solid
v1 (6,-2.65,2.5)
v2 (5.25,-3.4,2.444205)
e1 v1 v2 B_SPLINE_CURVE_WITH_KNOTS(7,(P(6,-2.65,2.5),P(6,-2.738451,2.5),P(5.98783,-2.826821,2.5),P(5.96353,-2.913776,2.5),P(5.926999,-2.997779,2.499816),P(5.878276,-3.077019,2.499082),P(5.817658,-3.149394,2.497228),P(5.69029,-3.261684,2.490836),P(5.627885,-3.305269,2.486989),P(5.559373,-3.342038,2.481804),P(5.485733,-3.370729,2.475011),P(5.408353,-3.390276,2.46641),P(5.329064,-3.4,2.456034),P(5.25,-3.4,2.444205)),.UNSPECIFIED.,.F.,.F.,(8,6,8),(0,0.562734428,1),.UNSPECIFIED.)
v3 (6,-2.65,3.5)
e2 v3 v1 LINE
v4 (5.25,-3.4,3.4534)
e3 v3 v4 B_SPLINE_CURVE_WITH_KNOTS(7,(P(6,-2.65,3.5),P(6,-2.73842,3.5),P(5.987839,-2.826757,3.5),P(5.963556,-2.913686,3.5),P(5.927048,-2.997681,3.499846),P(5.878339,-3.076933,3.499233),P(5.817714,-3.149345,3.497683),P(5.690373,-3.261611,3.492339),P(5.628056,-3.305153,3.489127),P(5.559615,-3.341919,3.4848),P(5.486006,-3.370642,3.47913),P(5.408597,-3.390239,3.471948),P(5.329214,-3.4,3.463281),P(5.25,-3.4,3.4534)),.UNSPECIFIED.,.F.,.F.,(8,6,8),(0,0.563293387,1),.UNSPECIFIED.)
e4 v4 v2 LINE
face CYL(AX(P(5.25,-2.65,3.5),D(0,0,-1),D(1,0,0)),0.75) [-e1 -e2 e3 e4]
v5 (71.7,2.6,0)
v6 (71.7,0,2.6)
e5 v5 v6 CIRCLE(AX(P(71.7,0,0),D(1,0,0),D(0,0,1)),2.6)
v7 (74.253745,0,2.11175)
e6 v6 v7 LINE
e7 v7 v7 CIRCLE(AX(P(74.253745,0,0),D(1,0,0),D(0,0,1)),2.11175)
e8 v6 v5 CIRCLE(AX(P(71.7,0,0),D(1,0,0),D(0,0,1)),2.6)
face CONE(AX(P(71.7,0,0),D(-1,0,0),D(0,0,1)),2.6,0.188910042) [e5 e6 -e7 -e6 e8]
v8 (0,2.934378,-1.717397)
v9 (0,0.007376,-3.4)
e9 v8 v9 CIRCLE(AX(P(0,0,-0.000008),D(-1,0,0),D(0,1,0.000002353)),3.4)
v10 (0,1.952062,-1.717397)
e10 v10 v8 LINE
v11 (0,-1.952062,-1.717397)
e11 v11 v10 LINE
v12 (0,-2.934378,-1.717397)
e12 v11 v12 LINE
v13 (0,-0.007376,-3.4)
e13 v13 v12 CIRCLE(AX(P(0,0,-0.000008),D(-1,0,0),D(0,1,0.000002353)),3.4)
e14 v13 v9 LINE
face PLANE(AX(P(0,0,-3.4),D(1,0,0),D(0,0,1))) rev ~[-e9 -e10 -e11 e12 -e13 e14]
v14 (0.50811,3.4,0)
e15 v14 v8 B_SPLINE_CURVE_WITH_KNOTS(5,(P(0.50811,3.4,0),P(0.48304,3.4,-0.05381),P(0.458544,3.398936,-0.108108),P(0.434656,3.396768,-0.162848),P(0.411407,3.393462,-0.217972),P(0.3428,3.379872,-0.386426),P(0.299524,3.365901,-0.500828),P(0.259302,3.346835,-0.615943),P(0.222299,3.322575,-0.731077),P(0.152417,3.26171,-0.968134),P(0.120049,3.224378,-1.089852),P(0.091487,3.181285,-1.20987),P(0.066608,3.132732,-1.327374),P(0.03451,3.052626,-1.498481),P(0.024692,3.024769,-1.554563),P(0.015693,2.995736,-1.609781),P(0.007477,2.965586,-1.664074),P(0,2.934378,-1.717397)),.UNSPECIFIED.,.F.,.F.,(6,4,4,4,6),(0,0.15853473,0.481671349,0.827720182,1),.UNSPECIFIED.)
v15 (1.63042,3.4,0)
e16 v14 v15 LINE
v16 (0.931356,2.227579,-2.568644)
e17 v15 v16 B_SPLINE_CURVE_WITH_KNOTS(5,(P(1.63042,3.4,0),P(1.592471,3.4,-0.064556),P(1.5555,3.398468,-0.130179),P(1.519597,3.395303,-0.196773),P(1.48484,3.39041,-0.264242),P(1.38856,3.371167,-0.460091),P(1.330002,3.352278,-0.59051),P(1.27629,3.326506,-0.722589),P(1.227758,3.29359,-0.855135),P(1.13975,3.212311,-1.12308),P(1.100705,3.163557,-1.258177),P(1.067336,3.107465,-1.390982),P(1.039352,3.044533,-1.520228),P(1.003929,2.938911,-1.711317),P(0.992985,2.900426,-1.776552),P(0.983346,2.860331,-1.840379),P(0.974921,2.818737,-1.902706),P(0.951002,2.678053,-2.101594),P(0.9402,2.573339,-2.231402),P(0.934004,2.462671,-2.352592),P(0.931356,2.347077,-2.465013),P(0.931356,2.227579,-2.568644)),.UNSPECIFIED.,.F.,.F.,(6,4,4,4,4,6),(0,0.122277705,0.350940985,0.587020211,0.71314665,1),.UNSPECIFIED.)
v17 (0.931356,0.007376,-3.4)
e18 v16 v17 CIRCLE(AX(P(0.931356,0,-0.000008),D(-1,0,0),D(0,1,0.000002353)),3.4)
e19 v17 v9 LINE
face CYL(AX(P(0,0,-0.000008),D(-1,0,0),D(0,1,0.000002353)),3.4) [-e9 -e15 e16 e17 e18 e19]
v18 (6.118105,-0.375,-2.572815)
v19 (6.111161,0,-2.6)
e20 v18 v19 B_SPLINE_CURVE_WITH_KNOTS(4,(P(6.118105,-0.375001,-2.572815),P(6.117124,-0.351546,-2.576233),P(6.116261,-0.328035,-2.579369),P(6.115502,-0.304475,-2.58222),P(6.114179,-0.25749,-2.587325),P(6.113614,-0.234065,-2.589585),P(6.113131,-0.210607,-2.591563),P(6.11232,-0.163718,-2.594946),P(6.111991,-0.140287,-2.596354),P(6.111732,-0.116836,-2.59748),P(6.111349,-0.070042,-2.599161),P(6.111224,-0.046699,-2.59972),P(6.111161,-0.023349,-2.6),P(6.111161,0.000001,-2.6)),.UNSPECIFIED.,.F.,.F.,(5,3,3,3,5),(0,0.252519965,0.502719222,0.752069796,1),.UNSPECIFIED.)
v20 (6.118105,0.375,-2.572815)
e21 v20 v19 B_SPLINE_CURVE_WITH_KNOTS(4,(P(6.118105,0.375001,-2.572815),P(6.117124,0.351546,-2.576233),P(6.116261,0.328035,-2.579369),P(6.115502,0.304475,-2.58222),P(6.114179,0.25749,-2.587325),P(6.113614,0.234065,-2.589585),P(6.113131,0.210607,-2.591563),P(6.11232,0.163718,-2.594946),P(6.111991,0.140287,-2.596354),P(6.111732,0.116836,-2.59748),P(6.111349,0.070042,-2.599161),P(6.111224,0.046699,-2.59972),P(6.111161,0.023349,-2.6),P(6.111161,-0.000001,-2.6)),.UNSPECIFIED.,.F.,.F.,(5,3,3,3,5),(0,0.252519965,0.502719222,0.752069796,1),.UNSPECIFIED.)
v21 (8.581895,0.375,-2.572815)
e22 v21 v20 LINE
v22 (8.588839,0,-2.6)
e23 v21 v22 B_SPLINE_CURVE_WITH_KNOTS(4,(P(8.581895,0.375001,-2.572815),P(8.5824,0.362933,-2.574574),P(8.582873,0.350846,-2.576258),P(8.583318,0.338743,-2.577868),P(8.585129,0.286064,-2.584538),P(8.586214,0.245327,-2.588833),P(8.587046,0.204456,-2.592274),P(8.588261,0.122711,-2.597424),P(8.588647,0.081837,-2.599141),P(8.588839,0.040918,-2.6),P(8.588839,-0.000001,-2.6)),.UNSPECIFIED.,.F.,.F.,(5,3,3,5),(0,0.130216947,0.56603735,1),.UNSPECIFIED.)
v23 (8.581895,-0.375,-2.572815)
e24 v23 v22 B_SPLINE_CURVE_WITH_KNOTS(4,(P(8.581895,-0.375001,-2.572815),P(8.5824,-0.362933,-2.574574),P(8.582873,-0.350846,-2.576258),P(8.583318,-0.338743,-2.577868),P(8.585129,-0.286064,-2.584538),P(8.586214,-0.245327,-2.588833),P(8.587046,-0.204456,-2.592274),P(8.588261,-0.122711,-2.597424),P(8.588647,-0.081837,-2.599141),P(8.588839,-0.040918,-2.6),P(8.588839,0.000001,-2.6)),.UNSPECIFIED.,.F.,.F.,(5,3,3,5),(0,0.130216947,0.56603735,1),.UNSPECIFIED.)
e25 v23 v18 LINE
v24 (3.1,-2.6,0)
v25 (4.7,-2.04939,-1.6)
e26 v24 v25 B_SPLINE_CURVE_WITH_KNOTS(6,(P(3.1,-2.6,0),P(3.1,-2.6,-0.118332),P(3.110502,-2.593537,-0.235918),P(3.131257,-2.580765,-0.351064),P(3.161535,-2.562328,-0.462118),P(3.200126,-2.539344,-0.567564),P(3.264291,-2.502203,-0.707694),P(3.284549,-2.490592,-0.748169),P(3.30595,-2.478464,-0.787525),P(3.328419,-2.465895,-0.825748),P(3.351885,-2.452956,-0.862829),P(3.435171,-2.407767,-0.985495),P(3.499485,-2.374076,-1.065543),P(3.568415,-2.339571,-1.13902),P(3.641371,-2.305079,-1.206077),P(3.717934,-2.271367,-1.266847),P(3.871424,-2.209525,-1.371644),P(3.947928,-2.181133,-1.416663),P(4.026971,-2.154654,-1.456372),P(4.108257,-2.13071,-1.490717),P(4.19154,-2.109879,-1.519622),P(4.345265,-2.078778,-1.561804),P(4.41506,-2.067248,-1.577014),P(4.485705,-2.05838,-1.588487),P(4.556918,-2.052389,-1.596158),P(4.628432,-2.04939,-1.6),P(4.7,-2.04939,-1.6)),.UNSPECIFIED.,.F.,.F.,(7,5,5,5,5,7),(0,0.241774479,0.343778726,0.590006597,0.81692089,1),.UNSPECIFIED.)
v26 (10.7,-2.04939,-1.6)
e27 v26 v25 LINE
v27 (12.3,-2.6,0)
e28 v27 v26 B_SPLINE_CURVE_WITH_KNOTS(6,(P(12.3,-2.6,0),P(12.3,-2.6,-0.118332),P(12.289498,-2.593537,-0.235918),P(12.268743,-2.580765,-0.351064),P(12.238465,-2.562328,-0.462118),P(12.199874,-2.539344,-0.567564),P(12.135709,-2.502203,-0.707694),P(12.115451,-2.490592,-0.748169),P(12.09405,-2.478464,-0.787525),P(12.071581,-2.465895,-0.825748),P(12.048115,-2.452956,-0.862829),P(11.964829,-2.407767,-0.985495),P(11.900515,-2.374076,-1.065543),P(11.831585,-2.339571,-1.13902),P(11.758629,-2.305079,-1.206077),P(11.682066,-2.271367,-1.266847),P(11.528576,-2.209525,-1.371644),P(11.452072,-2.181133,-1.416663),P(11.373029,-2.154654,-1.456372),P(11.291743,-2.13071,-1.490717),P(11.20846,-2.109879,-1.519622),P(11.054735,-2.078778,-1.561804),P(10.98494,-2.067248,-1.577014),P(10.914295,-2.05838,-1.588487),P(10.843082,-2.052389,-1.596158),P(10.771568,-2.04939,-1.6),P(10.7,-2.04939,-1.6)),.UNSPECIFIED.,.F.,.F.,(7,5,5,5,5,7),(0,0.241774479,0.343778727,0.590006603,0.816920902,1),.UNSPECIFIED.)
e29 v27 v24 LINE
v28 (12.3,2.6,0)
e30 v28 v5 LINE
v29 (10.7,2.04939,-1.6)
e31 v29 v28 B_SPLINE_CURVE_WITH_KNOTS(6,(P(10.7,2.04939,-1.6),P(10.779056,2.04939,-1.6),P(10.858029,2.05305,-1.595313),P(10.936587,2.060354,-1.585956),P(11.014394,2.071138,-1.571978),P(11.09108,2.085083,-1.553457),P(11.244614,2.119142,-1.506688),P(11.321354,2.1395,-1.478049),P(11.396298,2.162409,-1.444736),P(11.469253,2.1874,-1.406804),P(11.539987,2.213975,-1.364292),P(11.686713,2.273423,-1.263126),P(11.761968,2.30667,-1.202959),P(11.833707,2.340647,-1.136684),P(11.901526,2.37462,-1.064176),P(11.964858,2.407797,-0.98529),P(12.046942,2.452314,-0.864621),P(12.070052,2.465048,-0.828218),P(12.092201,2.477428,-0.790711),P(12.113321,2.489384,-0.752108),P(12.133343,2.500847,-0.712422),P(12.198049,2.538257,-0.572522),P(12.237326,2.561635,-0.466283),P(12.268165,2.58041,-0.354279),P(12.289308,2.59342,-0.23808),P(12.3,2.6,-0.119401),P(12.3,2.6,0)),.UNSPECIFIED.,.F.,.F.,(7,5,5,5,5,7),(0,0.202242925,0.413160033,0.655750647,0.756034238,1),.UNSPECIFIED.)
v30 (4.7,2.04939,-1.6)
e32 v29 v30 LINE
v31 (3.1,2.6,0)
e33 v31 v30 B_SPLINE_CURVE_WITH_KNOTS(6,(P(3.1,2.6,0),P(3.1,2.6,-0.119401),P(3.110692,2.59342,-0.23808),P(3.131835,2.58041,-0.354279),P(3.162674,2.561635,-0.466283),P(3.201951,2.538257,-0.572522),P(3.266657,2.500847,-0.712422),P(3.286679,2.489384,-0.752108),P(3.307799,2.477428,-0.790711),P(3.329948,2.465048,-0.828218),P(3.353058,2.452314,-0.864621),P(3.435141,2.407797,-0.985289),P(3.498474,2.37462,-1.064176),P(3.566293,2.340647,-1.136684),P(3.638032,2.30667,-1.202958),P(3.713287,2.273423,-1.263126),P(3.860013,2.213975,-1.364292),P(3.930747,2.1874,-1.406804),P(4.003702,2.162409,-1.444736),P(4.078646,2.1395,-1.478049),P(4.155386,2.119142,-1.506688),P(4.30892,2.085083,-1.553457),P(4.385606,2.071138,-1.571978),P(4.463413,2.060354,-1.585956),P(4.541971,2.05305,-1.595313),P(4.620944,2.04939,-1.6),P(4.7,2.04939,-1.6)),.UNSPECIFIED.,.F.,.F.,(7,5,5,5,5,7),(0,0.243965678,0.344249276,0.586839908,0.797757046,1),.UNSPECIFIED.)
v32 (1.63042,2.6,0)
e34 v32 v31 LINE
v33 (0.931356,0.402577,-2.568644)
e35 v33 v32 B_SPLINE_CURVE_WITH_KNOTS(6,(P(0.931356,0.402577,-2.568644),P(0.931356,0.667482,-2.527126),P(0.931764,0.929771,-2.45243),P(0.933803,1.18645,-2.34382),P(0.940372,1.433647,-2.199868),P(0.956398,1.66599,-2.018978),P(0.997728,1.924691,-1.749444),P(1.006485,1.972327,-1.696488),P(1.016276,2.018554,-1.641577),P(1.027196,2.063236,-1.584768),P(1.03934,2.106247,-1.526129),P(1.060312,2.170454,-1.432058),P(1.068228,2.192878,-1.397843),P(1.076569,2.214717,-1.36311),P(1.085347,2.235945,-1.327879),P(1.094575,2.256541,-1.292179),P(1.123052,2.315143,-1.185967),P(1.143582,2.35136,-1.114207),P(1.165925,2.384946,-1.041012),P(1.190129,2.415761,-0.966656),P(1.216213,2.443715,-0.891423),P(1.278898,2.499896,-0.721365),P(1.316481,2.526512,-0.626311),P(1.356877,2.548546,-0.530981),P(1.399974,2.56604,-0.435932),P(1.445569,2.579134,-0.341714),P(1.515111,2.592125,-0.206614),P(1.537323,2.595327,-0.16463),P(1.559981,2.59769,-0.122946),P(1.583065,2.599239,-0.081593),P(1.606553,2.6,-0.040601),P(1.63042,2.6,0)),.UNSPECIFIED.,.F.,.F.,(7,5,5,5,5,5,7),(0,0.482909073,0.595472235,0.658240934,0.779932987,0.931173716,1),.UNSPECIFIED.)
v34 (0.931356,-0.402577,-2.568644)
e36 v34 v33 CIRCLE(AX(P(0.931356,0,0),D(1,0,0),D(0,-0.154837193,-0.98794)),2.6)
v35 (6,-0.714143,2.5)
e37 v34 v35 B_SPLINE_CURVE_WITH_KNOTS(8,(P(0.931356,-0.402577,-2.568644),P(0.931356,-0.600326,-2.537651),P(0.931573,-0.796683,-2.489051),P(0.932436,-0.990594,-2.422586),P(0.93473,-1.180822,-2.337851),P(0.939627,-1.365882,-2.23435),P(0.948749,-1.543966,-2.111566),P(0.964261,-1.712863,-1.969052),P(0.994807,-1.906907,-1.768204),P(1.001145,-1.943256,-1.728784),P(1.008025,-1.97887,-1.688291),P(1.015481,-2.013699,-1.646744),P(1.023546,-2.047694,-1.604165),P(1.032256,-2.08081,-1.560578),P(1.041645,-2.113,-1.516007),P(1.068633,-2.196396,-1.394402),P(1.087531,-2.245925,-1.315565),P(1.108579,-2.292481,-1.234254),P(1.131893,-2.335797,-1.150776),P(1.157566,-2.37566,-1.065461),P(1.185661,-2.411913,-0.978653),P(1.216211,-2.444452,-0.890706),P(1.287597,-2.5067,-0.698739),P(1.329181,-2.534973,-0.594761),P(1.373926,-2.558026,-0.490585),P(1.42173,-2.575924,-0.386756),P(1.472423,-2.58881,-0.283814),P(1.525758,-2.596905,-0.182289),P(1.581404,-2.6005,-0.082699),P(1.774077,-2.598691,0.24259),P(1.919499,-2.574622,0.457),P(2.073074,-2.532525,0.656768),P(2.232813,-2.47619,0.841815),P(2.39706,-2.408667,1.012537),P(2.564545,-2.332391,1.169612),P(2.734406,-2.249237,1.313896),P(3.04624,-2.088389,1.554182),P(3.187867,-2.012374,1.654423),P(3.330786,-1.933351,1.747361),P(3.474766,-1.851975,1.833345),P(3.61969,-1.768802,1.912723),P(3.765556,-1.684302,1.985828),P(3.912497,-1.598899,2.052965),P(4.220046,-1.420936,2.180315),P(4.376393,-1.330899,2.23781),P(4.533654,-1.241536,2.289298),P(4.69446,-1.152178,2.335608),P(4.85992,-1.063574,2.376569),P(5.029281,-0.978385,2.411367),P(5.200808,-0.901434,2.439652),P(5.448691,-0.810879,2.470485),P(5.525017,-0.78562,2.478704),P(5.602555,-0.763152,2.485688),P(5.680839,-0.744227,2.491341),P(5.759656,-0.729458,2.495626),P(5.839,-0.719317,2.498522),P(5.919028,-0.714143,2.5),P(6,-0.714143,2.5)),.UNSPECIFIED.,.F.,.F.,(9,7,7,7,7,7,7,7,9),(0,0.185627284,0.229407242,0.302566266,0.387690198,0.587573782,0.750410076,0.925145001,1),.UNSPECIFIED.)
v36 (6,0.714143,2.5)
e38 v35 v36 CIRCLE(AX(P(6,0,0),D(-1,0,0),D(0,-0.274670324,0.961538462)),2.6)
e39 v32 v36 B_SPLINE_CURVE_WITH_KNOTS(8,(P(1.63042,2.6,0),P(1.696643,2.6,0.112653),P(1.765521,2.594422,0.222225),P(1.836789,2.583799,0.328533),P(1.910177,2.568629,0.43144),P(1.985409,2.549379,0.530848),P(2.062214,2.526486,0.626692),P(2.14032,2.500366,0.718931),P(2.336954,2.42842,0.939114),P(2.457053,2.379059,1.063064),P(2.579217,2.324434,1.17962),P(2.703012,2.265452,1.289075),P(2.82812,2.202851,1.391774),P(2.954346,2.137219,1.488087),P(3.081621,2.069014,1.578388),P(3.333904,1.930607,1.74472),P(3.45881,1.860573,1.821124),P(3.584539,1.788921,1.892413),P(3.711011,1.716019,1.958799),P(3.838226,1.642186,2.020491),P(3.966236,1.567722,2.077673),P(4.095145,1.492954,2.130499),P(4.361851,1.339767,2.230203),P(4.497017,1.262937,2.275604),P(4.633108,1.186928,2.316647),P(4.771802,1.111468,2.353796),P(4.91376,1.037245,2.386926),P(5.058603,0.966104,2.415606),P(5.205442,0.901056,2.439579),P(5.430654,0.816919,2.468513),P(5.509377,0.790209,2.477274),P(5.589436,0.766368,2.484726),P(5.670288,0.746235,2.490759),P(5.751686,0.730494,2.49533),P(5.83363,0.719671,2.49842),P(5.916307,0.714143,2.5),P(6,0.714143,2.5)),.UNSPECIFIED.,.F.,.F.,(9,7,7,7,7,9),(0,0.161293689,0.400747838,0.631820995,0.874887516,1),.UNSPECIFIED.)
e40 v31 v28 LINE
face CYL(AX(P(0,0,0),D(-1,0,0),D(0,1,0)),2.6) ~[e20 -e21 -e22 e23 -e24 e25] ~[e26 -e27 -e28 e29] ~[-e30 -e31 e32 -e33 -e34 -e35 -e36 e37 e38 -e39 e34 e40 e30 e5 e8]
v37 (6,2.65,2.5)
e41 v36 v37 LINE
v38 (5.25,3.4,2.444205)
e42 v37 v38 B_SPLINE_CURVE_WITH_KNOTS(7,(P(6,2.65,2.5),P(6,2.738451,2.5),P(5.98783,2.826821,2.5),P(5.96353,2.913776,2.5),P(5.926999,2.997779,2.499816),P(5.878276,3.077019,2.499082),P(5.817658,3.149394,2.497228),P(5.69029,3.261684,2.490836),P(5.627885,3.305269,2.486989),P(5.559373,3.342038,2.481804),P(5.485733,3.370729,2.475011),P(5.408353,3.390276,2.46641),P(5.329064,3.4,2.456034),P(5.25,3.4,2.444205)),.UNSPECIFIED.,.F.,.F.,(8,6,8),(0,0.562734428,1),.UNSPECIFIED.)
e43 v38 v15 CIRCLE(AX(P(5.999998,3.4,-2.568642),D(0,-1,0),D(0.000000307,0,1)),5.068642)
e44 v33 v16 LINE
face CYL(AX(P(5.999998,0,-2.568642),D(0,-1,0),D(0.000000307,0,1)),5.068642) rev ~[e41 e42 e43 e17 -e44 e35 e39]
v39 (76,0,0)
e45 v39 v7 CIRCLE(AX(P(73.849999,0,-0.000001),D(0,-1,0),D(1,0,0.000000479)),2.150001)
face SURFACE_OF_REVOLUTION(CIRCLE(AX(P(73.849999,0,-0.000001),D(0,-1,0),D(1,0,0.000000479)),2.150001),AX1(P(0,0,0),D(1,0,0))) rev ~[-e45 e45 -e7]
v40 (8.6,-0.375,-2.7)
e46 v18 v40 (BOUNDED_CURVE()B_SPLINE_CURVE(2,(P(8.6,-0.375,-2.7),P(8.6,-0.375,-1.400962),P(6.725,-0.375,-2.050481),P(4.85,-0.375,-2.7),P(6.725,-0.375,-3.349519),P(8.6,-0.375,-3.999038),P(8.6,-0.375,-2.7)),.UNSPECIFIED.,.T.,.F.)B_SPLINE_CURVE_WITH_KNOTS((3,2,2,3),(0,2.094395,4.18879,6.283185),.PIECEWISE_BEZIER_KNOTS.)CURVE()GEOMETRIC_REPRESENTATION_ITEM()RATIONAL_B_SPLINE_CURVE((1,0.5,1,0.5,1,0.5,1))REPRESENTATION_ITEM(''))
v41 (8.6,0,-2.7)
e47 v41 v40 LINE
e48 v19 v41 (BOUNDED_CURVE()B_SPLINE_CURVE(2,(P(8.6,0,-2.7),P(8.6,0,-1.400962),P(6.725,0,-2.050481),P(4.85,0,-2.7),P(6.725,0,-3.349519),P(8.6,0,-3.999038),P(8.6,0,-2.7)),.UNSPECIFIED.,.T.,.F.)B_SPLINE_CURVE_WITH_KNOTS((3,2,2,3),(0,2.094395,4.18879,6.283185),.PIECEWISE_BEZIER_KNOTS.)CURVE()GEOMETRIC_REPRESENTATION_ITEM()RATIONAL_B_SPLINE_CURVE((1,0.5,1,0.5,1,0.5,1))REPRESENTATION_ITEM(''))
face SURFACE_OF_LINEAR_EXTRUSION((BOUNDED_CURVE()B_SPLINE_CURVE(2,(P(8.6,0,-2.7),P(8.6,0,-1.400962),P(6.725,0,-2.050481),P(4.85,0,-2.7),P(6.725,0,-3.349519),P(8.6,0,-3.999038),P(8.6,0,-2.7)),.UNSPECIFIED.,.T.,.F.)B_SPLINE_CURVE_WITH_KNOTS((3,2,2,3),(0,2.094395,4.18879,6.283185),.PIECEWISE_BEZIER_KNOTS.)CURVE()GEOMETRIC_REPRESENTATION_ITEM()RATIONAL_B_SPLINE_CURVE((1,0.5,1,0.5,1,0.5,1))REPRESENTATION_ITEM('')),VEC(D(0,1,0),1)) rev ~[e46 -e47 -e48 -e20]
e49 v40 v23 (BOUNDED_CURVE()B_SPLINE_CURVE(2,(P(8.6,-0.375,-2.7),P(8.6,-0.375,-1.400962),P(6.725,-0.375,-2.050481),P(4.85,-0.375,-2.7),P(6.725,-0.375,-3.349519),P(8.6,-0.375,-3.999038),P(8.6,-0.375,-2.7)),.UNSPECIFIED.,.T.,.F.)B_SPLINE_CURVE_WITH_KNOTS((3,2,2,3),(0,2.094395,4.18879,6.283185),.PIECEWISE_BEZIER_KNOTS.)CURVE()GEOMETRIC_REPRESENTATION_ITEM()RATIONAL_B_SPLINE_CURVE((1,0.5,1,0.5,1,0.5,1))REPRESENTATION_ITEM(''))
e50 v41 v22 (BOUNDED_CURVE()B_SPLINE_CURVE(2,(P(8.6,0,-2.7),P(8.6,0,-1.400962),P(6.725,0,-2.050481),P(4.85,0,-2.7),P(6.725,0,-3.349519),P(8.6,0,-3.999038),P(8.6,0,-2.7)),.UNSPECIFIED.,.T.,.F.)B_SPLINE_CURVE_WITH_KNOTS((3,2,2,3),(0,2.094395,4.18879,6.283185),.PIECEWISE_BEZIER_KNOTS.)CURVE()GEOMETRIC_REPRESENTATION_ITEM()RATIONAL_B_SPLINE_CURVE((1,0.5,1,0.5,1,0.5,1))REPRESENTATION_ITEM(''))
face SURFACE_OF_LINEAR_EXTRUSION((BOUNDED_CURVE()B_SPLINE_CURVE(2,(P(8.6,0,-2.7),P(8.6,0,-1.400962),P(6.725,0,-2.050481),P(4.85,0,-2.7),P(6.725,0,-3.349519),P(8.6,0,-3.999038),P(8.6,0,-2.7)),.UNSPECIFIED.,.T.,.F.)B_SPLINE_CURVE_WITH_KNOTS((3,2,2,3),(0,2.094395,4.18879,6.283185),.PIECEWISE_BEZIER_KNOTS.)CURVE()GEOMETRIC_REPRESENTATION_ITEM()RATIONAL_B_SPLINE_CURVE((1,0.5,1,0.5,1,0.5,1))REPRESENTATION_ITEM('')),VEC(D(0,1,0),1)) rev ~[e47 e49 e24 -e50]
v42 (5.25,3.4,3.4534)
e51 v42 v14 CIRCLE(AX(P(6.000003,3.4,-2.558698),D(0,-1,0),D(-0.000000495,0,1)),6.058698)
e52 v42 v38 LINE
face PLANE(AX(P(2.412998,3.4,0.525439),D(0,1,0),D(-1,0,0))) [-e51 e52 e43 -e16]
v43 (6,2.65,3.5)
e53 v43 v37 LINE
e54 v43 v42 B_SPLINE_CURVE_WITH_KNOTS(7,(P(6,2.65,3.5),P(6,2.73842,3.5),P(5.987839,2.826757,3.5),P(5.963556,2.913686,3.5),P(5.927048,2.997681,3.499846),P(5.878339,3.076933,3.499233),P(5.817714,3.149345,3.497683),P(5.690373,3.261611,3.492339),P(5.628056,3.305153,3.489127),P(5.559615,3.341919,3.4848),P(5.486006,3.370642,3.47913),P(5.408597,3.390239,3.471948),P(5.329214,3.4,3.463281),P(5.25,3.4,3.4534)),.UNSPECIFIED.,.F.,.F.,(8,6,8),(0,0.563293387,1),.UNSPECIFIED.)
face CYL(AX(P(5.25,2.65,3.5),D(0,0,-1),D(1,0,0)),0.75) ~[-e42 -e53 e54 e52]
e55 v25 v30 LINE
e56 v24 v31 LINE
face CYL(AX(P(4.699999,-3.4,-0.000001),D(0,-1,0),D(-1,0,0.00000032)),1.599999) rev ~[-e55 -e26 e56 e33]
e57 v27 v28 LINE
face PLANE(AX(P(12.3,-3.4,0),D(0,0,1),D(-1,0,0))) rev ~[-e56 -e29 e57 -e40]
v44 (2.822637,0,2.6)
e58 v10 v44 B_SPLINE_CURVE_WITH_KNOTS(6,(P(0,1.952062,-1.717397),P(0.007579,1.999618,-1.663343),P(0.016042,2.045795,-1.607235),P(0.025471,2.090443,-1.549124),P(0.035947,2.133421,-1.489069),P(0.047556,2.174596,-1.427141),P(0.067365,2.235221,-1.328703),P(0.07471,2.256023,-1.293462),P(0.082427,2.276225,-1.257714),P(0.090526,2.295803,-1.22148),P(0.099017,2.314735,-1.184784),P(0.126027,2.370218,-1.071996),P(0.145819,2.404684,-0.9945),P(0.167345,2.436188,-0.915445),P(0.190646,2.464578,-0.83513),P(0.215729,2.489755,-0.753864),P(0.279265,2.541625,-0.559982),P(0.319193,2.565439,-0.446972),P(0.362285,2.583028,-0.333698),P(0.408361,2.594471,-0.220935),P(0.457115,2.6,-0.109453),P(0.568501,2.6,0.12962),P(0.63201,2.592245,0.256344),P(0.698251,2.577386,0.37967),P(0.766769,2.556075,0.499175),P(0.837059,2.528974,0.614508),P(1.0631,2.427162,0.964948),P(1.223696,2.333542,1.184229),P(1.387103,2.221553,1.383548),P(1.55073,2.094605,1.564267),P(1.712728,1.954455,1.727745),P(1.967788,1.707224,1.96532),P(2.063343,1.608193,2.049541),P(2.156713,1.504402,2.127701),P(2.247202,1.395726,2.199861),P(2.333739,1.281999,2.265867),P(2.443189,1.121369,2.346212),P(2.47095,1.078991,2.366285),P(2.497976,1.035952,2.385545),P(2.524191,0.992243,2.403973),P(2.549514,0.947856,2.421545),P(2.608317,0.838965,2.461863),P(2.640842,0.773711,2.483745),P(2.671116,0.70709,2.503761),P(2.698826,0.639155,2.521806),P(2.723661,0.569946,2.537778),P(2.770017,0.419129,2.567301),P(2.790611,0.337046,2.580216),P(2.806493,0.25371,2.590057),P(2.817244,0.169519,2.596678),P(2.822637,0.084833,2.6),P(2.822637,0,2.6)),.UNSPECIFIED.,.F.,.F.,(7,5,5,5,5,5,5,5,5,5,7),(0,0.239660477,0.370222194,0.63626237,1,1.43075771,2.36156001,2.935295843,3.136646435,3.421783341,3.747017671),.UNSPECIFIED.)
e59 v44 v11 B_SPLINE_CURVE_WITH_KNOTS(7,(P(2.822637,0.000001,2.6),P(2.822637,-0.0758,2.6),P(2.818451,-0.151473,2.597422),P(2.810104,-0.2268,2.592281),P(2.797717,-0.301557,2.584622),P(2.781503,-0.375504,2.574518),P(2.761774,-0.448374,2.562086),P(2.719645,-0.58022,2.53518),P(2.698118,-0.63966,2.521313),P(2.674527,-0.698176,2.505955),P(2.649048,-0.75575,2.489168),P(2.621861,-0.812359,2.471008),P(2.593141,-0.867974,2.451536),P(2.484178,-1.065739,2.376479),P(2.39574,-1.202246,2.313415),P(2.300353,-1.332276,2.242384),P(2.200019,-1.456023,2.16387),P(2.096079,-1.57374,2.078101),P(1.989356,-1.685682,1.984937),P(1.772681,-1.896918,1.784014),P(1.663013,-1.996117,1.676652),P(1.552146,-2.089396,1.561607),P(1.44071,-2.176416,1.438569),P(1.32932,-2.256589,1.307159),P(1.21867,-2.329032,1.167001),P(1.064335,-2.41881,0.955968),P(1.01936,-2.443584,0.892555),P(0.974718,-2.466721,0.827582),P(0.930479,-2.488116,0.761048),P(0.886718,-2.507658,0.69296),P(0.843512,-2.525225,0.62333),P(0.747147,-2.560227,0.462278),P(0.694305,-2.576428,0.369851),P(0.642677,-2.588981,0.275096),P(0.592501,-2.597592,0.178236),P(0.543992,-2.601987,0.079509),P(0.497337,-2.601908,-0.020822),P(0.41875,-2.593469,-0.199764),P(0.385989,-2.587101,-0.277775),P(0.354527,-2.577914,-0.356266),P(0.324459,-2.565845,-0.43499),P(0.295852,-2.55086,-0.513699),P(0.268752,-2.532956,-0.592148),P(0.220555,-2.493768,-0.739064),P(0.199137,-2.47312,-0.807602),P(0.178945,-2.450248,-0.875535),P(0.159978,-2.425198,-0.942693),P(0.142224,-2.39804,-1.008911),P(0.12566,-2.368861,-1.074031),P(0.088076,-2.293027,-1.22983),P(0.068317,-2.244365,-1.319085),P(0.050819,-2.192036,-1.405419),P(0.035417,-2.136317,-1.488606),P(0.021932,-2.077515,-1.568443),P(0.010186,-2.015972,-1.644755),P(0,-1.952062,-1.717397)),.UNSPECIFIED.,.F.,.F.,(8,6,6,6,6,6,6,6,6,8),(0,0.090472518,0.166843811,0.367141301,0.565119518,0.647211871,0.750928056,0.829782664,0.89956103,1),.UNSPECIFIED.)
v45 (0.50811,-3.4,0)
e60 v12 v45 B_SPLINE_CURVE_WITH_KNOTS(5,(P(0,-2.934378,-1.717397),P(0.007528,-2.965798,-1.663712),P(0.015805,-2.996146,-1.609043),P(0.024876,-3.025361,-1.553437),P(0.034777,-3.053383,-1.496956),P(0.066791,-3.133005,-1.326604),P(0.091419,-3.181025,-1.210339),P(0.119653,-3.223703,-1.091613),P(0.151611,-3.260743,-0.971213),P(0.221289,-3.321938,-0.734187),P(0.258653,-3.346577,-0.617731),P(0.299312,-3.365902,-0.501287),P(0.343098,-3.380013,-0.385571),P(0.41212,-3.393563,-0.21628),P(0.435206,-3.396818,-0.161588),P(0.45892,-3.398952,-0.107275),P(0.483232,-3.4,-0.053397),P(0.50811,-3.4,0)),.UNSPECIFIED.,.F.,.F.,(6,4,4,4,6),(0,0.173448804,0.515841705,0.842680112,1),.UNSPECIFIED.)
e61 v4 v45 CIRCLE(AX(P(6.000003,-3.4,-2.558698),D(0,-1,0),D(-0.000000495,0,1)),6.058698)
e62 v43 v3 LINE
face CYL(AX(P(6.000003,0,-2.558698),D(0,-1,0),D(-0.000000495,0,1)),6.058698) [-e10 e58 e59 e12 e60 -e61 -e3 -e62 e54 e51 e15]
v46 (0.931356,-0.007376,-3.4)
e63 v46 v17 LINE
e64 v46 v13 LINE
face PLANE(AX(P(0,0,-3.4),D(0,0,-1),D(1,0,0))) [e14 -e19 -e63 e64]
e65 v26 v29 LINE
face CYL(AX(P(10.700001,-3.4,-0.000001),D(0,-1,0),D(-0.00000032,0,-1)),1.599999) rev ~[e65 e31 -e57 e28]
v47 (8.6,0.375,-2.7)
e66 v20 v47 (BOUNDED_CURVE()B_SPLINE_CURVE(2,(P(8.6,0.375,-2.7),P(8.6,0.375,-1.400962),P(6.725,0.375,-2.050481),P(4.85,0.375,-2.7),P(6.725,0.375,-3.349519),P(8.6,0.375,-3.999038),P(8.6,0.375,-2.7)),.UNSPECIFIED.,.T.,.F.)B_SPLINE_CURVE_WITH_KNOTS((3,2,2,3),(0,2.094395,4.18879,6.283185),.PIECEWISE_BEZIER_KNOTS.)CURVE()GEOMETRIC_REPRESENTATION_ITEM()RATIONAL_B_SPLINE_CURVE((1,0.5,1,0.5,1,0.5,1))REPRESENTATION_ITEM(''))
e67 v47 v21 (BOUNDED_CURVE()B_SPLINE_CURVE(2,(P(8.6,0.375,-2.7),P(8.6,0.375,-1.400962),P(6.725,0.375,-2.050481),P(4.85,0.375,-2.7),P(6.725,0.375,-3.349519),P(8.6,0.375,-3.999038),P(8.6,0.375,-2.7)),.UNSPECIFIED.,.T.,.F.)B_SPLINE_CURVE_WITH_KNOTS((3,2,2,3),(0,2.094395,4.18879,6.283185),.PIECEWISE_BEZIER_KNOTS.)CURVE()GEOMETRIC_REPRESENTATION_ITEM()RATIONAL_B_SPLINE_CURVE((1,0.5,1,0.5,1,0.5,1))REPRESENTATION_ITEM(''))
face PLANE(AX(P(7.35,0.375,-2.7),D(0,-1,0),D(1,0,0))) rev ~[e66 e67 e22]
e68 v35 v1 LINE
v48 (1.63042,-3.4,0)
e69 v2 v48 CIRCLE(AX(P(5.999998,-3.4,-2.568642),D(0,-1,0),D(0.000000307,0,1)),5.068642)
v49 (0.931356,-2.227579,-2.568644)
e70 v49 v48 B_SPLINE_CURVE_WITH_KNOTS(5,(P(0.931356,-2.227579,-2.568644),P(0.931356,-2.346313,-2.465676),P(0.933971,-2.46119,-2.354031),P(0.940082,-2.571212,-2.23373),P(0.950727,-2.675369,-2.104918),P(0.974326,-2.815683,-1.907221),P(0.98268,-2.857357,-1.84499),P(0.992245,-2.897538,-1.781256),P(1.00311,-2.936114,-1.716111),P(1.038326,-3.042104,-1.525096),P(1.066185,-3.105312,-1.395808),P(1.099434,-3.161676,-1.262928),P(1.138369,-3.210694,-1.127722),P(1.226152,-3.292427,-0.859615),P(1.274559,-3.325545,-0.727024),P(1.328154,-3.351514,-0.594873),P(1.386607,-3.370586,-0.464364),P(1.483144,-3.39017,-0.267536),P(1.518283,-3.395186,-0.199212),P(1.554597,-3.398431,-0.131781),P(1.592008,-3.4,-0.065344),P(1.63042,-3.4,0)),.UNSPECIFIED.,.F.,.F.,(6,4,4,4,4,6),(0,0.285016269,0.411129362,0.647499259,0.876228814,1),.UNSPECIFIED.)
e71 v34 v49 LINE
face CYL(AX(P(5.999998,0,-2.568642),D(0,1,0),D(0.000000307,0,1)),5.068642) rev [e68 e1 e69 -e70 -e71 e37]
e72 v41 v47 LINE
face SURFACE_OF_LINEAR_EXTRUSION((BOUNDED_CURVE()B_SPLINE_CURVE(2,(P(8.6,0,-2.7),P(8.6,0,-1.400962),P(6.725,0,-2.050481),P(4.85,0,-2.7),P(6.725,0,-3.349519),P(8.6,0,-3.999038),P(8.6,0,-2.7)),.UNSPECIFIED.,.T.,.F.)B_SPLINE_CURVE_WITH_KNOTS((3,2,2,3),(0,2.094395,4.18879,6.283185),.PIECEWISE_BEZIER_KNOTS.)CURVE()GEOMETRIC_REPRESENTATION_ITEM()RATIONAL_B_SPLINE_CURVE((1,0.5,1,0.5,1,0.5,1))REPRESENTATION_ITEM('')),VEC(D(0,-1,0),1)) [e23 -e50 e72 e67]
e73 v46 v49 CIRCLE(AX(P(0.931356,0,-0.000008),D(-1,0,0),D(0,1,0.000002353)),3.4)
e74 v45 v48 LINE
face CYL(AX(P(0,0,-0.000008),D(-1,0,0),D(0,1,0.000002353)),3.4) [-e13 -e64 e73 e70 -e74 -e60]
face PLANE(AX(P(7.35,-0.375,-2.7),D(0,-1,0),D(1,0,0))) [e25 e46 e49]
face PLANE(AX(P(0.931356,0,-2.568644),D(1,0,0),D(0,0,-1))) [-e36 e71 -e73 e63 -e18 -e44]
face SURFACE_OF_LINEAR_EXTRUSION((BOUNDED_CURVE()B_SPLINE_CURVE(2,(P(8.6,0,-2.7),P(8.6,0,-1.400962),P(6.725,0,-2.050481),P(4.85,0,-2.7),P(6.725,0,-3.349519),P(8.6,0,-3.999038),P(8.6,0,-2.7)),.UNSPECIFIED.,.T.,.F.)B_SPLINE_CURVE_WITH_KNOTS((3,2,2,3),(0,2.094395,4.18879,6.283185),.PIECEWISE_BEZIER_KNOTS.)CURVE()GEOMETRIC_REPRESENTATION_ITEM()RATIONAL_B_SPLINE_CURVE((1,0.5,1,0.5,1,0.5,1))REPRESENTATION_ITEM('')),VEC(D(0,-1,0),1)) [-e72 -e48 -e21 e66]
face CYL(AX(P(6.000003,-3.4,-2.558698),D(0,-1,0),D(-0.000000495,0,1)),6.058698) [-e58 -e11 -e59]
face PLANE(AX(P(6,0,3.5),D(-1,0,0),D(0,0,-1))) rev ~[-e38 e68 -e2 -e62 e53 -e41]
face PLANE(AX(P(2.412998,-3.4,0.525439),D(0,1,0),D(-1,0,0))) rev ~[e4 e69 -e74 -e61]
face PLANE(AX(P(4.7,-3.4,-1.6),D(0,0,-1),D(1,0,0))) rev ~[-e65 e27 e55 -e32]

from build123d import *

# Parameters (mm, degrees)
SKETCH_R          = 2.6
PAD_DEPTH         = 76
PAD001_DEPTH      = 3.4
PAD001_DEPTH_BACK = 3.4
POCKET_DEPTH      = 10
POCKET001_DEPTH   = 5
PAD002_DEPTH      = 0.375
PAD002_DEPTH_BACK = 0.375
POCKET002_DEPTH   = 10
FILLET_R          = 0.75


with BuildPart() as part:
    # Sketch → Pad (new body)
    with BuildSketch(Plane.YZ):
        Circle(SKETCH_R)
    extrude(amount=PAD_DEPTH)

    # Sketch001 → Pad001 (join, two sides)
    with BuildSketch(Plane.XZ) as pad001_sk:
        with BuildLine():
            Line((6, 3.5), (6, 2.5))
            ThreePointArc((6, 2.5), (2.415927, 1.015429), (0.931356, -2.568644))
            Line((0.931356, -2.568644), (0.931356, -3.4))
            Line((0, -3.4), (0.931356, -3.4))
            Line((0, -3.4), (0, -1.717397))
            ThreePointArc((6, 3.5), (2.024412, 2.013227), (0, -1.717397))
        make_face()
    extrude(amount=PAD001_DEPTH)
    extrude(pad001_sk.sketch, amount=-PAD001_DEPTH_BACK)

    # Sketch002 (on Face8 of Pad001) → Pocket (cut)
    with BuildSketch(Plane(origin=(0, -3.4, 0), x_dir=(0, 0, -1), z_dir=(0, -1, 0))):
        with BuildLine():
            Line((3.4, 0), (3.4, -1))
            Line((3.4, -1), (-4.5, -1))
            Line((-4.5, -1), (-4.5, 6))
            Line((-4.5, 6), (-3.5, 6))
            ThreePointArc((-3.5, 6), (-2.013227, 2.024412), (1.717397, 0))
            Line((1.717397, 0), (3.4, 0))
        make_face()
    extrude(amount=-POCKET_DEPTH, mode=Mode.SUBTRACT)

    # Sketch003 (on Face10 of Pocket) → Pocket001 (cut)
    with BuildSketch(Plane(origin=(0, 0, 0), x_dir=(0, 1, 0), z_dir=(-1, 0, 0))):
        with BuildLine():
            Line((-3.4, 0), (-4.4, 0))
            Line((-4.4, 0), (-4.4, 5))
            Line((-4.4, 5), (4.4, 5))
            Line((4.4, 5), (4.4, 0))
            Line((4.4, 0), (3.4, 0))
            ThreePointArc((3.4, 0), (0, 3.400008), (-3.4, 0))
        make_face()
    extrude(amount=-POCKET001_DEPTH, mode=Mode.SUBTRACT)

    # Sketch004 → Pad002 (join, two sides)
    with BuildSketch(Plane.XZ) as pad002_sk:
        with BuildLine():
            add(Edge.make_bspline(
                [(8.6, -2.7), (8.6, -1.400962), (6.725, -2.050481), (4.85, -2.7), (6.725, -3.349519), (8.6, -3.999038), (8.6, -2.7)],
                knots=[0, 0, 0, 2.094395, 2.094395, 4.18879, 4.18879, 6.283185, 6.283185, 6.283185], degree=2, weights=[1, 0.5, 1, 0.5, 1, 0.5, 1]))
        make_face()
    extrude(amount=PAD002_DEPTH)
    extrude(pad002_sk.sketch, amount=-PAD002_DEPTH_BACK)

    # Sketch005 (on Face7 of Pad002) → Pocket002 (cut)
    with BuildSketch(Plane(origin=(0, -3.4, 0), x_dir=(0, 0, -1), z_dir=(0, -1, 0))):
        with BuildLine():
            Line((1.6, 4.7), (1.6, 10.7))
            ThreePointArc((1.6, 10.7), (1.131371, 11.831371), (0, 12.3))
            Line((0, 12.3), (0, 3.1))
            ThreePointArc((0, 3.1), (1.131371, 3.568629), (1.6, 4.7))
        make_face()
    extrude(amount=-POCKET002_DEPTH, mode=Mode.SUBTRACT)

    # Fillet
    fillet_edges = [part.edges().sort_by_distance(p)[0] for p in [
        (6, 3.4, 3),
        (6, -3.4, 3),
    ]]
    fillet(fillet_edges, radius=FILLET_R)

    # Sketch006 → Groove (revolve, cut)
    with BuildSketch(Plane.XZ):
        with BuildLine():
            ThreePointArc((76, 0), (75.506887, 1.370118), (74.253745, 2.11175))
            Line((71.7, 2.6), (74.253745, 2.11175))
            Line((76, 2.6), (71.7, 2.6))
            Line((76, 2.6), (77, 2.6))
            Line((77, 2.6), (77, 0))
            Line((77, 0), (76, 0))
        make_face()
    revolve(axis=Axis((0, 0, 0), (1, 0, 0)), mode=Mode.SUBTRACT)


solid = part.part
